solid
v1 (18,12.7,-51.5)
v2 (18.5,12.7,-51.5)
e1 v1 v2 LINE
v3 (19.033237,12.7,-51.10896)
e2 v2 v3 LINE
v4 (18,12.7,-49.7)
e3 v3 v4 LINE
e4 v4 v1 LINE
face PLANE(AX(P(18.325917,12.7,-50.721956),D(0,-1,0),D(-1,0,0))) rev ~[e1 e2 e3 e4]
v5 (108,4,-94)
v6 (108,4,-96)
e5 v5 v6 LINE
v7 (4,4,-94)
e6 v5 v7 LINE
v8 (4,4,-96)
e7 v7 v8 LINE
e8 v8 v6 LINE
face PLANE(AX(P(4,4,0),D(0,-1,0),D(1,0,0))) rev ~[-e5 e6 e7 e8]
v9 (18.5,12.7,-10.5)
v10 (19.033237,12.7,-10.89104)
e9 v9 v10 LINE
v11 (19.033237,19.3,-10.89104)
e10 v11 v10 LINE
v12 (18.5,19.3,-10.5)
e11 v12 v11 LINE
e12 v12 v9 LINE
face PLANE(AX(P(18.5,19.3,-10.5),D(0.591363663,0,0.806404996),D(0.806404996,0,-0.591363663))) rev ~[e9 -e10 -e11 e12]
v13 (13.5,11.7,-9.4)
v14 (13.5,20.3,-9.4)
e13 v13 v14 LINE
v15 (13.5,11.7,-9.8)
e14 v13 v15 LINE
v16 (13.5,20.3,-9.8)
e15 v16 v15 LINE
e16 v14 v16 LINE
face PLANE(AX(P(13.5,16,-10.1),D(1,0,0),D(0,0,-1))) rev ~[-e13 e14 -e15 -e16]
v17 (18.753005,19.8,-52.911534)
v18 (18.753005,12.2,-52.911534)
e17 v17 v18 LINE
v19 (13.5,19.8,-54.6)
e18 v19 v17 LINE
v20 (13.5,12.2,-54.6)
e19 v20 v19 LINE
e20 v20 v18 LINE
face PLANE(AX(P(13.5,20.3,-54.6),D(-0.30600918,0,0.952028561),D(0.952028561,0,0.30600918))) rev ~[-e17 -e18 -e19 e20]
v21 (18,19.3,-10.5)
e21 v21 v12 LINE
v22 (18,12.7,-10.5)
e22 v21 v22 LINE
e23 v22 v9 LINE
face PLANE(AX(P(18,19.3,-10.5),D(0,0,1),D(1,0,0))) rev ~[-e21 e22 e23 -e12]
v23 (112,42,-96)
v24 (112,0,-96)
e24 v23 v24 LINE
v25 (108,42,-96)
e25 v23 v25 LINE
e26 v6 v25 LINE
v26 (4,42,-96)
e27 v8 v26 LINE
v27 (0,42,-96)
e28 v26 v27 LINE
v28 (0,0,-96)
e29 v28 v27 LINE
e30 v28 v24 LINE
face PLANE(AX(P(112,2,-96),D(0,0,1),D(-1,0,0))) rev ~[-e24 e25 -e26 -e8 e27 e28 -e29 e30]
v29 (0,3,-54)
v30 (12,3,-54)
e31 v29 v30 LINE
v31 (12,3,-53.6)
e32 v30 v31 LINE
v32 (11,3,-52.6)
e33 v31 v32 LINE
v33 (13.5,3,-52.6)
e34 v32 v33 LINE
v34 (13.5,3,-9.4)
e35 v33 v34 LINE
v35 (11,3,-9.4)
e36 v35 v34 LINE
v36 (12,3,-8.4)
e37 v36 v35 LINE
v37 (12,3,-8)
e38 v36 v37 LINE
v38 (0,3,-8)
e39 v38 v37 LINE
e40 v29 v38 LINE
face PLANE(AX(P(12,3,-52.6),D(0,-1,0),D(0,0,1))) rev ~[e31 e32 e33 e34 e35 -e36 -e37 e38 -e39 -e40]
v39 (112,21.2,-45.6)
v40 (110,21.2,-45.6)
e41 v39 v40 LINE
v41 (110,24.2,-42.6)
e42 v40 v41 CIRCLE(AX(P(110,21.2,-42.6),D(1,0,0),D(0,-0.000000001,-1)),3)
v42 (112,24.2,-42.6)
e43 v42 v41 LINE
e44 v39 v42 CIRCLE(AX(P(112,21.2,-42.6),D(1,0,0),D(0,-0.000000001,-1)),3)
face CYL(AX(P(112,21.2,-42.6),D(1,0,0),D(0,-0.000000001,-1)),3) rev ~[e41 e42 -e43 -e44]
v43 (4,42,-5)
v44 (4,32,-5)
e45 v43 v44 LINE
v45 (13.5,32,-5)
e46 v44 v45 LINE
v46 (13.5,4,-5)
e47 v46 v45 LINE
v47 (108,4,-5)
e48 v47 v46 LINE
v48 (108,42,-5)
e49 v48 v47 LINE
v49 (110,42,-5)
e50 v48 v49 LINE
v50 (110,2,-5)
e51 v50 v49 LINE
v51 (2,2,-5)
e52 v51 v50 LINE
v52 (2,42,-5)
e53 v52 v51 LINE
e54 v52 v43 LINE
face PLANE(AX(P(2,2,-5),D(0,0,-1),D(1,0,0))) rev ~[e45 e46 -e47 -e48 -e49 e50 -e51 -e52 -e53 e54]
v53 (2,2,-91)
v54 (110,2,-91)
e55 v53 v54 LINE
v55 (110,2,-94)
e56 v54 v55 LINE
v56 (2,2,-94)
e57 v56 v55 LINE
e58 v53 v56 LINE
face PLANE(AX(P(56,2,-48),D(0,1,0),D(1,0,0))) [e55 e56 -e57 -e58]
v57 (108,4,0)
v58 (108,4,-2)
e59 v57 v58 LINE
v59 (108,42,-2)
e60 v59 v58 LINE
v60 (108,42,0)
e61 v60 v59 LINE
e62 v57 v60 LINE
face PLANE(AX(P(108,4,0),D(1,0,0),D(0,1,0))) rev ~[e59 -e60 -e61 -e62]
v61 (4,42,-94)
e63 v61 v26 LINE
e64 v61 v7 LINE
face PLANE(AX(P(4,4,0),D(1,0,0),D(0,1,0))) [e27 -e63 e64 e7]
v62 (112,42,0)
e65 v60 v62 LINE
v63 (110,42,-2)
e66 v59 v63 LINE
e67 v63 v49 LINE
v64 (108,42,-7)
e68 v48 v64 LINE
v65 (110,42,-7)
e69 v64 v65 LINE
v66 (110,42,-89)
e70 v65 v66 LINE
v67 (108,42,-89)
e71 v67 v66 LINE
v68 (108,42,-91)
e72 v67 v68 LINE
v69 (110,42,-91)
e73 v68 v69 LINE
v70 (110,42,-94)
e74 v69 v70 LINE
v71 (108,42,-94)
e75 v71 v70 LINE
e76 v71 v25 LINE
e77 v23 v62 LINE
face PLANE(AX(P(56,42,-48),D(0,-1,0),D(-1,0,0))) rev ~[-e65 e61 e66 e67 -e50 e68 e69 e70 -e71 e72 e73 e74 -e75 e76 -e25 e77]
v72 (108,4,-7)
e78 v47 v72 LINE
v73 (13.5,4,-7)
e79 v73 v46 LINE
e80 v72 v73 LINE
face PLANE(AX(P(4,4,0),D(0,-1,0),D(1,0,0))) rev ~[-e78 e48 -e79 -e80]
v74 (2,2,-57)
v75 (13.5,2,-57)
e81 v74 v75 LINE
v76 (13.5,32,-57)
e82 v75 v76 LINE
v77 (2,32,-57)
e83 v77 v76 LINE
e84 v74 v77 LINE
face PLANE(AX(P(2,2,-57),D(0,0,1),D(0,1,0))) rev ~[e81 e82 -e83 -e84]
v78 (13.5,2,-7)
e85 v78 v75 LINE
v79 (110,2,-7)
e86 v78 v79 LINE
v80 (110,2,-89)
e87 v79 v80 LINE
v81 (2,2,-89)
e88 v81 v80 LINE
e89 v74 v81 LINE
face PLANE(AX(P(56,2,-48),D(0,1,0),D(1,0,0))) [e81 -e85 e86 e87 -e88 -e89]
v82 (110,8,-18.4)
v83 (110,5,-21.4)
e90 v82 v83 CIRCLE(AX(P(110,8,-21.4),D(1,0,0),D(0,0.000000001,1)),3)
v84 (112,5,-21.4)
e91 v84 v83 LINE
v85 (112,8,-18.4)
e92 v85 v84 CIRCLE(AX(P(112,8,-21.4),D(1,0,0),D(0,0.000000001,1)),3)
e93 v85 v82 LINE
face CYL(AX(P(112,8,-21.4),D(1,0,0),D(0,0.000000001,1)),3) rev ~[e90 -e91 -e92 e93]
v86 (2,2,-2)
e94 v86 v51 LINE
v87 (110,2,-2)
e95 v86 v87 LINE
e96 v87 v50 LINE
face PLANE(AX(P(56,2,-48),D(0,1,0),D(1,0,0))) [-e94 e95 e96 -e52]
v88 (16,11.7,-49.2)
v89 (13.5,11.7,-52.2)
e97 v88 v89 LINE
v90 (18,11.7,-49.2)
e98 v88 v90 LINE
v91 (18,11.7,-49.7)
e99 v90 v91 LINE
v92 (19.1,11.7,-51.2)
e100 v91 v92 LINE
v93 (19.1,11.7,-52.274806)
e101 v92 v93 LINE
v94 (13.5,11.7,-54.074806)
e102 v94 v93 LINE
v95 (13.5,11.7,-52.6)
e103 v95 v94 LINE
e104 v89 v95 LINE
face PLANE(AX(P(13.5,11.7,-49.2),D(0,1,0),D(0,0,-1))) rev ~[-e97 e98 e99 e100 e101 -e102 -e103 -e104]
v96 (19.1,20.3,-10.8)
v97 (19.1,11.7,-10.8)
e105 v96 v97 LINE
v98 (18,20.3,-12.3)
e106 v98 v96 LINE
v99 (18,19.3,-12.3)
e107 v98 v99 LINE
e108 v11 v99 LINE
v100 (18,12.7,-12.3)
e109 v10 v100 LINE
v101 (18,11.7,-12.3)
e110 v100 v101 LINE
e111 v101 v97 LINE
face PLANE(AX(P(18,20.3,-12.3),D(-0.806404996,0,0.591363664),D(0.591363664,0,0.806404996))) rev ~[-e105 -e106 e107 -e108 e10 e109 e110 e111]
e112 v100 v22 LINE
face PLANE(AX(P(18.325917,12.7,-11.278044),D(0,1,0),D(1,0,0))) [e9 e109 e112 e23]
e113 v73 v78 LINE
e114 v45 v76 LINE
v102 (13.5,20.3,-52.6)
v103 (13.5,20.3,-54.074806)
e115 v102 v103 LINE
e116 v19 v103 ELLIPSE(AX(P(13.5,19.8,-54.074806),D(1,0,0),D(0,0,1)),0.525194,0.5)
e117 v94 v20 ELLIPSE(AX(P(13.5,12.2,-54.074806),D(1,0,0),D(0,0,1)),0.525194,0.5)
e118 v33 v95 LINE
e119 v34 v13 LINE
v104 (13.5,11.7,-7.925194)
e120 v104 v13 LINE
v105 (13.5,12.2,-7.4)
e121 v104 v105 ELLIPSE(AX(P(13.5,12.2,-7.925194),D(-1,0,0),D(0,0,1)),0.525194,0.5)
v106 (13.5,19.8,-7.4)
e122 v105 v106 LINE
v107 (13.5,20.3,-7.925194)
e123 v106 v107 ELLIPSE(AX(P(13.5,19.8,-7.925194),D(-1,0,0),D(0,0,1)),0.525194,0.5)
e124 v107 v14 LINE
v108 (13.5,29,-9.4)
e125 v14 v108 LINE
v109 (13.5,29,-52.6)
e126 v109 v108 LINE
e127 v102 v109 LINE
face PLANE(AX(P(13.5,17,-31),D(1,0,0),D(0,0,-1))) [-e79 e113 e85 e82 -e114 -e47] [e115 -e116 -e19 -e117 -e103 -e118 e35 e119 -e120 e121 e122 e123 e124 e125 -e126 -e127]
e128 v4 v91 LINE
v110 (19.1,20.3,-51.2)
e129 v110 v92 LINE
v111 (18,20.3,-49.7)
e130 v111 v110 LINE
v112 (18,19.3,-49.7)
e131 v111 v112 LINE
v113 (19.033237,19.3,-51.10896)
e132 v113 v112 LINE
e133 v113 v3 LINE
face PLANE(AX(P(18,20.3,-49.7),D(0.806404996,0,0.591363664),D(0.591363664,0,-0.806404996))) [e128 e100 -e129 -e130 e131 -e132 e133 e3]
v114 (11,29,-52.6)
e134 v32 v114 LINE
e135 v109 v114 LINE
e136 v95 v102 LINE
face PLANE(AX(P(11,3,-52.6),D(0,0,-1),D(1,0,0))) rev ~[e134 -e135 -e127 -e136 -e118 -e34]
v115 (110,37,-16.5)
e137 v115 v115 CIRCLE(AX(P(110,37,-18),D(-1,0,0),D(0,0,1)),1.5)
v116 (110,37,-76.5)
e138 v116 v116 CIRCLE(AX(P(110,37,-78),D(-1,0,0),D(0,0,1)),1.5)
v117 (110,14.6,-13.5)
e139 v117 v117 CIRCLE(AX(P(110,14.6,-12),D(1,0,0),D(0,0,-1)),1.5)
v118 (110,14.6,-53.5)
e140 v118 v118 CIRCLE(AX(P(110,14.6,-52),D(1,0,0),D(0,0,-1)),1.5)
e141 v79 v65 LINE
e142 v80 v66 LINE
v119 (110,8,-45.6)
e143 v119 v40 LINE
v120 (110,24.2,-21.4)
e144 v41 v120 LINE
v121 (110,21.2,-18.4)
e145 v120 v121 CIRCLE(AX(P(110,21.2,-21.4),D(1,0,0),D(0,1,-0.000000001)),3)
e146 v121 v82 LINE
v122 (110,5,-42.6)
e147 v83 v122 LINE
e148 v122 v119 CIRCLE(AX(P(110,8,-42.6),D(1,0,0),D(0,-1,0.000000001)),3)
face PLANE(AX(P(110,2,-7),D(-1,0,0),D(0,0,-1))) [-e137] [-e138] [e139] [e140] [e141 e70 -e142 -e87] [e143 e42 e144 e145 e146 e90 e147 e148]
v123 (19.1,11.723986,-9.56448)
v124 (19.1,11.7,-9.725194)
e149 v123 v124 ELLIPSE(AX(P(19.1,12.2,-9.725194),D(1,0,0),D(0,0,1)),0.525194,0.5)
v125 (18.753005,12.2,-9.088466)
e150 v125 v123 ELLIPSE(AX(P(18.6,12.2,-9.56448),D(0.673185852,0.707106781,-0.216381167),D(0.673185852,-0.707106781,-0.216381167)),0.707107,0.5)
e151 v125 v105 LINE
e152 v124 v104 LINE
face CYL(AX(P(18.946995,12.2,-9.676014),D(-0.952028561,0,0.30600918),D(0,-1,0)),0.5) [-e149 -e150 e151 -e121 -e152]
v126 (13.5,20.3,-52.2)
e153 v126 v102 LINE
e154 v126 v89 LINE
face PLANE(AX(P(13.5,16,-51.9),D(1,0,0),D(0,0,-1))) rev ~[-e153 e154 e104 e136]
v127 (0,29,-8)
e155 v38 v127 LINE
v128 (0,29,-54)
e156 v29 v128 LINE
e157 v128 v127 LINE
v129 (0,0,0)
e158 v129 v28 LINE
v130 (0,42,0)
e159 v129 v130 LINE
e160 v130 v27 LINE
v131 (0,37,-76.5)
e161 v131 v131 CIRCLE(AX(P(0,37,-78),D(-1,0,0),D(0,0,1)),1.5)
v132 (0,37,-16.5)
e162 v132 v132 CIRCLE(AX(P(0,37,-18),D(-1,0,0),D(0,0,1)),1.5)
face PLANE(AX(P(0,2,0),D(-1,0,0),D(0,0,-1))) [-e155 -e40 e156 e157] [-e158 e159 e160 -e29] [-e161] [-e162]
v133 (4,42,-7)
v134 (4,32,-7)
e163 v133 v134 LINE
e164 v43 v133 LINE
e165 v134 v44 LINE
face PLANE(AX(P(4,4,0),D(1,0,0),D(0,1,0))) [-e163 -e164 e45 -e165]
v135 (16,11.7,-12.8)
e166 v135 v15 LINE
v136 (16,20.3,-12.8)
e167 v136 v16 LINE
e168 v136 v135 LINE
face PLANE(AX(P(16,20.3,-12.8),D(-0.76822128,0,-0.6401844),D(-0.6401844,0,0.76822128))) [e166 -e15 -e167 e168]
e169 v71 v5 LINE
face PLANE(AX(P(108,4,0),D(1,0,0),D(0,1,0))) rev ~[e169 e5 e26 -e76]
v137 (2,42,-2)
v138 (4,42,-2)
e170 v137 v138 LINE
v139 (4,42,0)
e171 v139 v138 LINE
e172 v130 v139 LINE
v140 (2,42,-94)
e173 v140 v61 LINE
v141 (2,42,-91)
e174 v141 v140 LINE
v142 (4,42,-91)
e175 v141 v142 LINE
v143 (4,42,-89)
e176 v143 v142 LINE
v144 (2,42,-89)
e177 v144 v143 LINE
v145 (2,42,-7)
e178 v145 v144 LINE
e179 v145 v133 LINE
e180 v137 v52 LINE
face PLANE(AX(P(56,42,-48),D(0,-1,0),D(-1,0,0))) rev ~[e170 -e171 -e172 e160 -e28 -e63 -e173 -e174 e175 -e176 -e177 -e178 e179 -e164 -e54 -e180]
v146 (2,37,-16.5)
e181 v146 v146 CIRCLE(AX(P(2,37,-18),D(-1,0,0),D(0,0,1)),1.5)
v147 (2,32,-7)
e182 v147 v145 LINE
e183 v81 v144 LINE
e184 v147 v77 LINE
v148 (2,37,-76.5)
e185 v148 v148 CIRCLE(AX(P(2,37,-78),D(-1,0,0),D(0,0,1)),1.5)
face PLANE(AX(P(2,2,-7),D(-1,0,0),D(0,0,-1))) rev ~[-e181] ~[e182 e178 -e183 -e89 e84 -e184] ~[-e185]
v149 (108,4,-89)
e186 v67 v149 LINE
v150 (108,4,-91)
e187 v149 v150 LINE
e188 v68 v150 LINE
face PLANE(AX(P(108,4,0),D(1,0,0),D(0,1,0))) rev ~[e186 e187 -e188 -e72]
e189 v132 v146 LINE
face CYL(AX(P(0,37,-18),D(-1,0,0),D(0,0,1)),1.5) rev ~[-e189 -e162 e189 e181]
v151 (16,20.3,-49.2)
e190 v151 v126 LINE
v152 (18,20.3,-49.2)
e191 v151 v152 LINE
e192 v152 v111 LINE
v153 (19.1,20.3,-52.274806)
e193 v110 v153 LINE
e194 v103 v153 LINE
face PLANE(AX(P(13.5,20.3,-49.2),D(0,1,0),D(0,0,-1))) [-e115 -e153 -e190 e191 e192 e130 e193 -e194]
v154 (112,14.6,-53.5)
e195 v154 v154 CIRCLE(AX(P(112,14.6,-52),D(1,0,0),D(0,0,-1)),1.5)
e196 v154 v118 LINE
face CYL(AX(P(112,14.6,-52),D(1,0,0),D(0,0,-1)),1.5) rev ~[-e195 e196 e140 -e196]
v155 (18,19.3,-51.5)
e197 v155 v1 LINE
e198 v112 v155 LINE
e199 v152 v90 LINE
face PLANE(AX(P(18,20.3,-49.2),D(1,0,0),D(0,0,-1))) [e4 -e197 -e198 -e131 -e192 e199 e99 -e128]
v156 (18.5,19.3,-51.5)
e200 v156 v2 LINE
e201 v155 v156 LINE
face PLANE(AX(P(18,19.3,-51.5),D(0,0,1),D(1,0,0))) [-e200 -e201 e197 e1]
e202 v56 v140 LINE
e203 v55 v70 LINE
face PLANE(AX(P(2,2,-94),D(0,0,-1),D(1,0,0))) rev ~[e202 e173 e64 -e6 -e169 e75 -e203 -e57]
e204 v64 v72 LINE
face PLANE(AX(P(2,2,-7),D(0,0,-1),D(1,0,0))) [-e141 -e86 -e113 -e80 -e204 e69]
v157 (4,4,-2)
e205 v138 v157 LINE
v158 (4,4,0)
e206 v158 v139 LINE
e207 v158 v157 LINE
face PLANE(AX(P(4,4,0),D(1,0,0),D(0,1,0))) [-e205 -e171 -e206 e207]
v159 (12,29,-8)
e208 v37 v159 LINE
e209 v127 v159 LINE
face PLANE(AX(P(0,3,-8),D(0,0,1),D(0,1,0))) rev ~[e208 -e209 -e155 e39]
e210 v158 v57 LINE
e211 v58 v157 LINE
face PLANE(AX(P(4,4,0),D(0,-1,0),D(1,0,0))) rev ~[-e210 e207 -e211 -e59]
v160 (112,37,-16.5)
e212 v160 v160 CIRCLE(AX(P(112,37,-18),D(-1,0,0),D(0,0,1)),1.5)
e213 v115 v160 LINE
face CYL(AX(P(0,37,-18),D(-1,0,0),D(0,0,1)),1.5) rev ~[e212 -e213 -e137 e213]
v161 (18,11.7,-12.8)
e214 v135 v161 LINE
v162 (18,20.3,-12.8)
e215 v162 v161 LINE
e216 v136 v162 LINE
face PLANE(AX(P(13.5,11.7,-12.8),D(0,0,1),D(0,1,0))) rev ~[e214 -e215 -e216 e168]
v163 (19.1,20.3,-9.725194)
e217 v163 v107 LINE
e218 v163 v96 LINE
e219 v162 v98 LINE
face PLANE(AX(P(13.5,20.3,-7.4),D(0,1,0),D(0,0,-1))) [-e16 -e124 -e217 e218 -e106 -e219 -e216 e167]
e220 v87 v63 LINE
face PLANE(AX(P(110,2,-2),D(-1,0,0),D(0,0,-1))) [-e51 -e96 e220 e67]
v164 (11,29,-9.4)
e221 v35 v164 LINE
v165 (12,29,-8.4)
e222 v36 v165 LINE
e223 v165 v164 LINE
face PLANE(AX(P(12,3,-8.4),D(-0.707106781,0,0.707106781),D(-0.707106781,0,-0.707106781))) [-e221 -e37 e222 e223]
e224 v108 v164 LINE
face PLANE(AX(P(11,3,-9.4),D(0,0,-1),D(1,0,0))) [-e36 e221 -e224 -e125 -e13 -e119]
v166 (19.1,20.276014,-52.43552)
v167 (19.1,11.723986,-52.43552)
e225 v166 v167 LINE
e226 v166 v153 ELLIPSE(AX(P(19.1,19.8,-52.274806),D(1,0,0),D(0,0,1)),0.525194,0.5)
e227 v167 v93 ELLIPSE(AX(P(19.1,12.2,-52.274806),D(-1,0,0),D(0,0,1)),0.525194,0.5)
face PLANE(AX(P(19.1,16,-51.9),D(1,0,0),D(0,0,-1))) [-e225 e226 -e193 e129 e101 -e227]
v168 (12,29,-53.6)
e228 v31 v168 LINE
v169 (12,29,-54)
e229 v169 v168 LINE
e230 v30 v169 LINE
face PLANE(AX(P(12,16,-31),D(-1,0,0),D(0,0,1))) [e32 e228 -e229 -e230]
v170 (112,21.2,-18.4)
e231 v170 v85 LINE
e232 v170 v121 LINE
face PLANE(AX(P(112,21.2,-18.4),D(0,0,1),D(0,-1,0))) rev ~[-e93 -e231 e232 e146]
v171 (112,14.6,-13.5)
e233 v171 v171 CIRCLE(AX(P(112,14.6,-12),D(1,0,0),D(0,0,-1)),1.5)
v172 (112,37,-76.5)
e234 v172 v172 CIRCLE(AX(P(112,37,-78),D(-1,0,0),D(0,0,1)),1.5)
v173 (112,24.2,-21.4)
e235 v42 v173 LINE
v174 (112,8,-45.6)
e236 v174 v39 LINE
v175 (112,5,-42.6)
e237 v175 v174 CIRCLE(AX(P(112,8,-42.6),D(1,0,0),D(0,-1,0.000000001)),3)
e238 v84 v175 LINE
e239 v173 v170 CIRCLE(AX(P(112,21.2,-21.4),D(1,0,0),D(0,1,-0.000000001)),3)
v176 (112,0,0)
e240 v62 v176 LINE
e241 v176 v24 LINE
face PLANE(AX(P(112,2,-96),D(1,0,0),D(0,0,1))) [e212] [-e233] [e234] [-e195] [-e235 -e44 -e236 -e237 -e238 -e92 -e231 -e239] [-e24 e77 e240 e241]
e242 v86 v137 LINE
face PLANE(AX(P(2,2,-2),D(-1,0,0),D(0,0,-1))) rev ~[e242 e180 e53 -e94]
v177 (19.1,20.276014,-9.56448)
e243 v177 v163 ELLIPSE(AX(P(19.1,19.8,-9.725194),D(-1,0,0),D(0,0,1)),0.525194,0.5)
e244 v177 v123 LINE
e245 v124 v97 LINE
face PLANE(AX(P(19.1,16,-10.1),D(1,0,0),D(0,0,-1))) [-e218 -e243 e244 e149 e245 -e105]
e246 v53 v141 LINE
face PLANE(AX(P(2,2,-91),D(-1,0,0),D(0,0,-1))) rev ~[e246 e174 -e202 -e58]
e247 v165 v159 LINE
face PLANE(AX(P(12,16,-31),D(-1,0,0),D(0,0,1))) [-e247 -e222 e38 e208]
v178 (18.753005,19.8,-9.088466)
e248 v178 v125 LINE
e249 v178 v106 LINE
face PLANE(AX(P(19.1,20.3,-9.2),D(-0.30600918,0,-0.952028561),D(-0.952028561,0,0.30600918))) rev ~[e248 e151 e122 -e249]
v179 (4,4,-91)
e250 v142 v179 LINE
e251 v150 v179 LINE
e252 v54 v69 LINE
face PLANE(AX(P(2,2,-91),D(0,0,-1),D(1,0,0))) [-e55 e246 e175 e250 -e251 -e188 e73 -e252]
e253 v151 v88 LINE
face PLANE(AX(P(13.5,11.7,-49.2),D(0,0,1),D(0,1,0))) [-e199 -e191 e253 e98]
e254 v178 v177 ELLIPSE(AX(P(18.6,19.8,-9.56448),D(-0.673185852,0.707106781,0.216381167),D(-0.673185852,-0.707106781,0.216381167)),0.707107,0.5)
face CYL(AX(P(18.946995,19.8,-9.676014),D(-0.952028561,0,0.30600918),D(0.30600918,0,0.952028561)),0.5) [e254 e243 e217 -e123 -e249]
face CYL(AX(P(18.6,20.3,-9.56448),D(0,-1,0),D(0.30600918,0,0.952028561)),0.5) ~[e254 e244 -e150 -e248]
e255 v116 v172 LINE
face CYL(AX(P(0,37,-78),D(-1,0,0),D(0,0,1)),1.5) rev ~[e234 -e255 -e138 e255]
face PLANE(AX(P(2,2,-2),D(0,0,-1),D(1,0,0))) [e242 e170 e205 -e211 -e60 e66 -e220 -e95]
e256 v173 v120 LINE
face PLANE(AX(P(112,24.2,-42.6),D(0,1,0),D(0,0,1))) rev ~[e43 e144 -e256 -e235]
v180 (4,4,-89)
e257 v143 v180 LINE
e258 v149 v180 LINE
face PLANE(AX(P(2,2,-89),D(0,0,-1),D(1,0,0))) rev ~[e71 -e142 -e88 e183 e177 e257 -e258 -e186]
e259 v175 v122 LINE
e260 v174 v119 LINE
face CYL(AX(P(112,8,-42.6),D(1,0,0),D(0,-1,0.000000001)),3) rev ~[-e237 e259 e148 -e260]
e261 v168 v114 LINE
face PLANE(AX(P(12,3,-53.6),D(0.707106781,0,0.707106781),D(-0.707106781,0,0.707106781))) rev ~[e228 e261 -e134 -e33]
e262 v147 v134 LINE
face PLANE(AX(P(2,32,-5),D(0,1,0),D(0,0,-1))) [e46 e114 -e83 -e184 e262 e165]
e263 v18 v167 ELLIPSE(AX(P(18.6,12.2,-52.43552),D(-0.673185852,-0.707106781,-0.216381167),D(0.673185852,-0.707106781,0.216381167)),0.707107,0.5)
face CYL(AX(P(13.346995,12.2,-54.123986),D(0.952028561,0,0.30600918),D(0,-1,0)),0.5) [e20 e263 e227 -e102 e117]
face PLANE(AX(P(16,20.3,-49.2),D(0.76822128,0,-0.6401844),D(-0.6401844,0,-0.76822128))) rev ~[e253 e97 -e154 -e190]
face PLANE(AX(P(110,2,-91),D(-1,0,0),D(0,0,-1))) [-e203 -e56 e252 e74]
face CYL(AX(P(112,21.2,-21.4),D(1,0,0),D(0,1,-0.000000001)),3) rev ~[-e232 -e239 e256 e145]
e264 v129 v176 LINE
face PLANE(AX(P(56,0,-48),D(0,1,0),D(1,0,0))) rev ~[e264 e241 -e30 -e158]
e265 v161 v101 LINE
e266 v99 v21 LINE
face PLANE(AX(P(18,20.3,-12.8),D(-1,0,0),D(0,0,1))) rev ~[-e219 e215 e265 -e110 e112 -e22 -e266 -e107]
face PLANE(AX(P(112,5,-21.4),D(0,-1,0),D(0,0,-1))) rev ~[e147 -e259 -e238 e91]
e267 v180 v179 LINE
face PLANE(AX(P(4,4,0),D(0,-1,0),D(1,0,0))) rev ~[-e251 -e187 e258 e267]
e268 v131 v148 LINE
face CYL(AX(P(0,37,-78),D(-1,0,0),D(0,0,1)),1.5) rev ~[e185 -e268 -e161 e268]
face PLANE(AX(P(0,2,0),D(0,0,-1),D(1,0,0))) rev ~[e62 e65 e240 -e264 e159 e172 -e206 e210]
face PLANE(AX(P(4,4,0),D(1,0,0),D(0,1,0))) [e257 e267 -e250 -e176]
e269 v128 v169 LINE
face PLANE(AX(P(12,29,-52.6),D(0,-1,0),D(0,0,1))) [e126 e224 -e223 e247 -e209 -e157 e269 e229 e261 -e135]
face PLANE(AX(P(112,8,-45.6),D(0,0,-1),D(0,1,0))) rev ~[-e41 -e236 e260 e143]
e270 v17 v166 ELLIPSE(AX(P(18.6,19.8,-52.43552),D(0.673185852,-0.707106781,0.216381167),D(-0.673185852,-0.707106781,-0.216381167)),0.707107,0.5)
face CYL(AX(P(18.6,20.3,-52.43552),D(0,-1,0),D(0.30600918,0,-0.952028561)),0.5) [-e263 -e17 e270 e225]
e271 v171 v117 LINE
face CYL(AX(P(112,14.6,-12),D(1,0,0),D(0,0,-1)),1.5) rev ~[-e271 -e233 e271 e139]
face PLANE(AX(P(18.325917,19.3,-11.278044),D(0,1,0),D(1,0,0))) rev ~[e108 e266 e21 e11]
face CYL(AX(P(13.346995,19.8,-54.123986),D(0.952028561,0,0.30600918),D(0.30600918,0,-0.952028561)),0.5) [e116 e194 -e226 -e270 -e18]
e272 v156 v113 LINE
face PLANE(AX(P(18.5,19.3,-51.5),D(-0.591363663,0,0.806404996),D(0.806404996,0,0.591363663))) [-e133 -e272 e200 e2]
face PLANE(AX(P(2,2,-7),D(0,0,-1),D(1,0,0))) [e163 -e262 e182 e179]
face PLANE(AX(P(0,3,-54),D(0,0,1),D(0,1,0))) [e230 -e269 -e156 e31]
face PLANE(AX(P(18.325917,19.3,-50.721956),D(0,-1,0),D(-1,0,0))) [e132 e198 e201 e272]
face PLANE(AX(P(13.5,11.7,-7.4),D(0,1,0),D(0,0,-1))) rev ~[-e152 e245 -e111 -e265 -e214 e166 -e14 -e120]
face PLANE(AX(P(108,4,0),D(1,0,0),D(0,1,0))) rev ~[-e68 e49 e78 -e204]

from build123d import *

# Parameters (mm, degrees)
ESBO_O1_W                = 112
ESBO_O1_H                = 96
RESSALTO_EXTRUS_O1_DEPTH = 2
ESBO_O2_W                = 108
ESBO_O2_H                = 3
ESBO_O2_H_2              = 82
RESSALTO_EXTRUS_O2_DEPTH = 40
ESBO_O3_W                = 104
ESBO_O3_H                = 38
CORTE_EXTRUS_O1_DEPTH    = 154.37535656
ESBO_O4_W                = 52
ESBO_O4_H                = 30
RESSALTO_EXTRUS_O3_DEPTH = 11.5
ESBO_O5_W                = 46
ESBO_O5_H                = 26
CORTE_EXTRUS_O2_DEPTH    = 12
ESBO_O6_W                = 43.2
ESBO_O6_H                = 26
CORTE_EXTRUS_O3_DEPTH    = 1.5
RESSALTO_EXTRUS_O4_DEPTH = 26
ESBO_O8_W                = 5.4
ESBO_O8_H                = 8.6
RESSALTO_EXTRUS_O5_DEPTH = 5.6
CORTE_EXTRUS_O4_DEPTH    = 8.6
CORTE_EXTRUS_O5_DEPTH    = 8.6
CORTE_EXTRUS_O6_DEPTH    = 8.6
CORTE_EXTRUS_O7_DEPTH    = 6.6
FILETE1_R                = 0.5
FILETE2_R                = 0.5
CORTE_EXTRUS_O8_DEPTH    = 2
ESBO_O16_R               = 1.5
CORTE_EXTRUS_O9_DEPTH    = 2
ESBO_O17_R               = 1.5
CORTE_EXTRUS_O10_DEPTH   = 154.37535656


with BuildPart() as part:
    # Esboço1 → Ressalto-extrusão1 (new body)
    with BuildSketch(Plane(origin=(0, 0, 0), x_dir=(1, 0, 0), z_dir=(0, 1, 0))):
        with Locations((56, 48)):
            Rectangle(ESBO_O1_W, ESBO_O1_H)
    extrude(amount=RESSALTO_EXTRUS_O1_DEPTH)

    # Esboço2 → Ressalto-extrusão2 (add)
    with BuildSketch(Plane(origin=(0, 2, 0), x_dir=(1, 0, 0), z_dir=(0, 1, 0))):
        Polygon((0, 96), (2, 96), (110, 96), (112, 96), (112, 0), (110, 0), (2, 0), (0, 0), align=None)
        with Locations((56, 92.5)):
            Rectangle(ESBO_O2_W, ESBO_O2_H, mode=Mode.SUBTRACT)
        with Locations((56, 3.5)):
            Rectangle(ESBO_O2_W, ESBO_O2_H, mode=Mode.SUBTRACT)
        with Locations((56, 48)):
            Rectangle(ESBO_O2_W, ESBO_O2_H_2, mode=Mode.SUBTRACT)
    extrude(amount=RESSALTO_EXTRUS_O2_DEPTH)

    # Esboço3 → Corte-extrusão1 (cut, through all)
    with BuildSketch(Plane.XY):
        with Locations((56, 23)):
            Rectangle(ESBO_O3_W, ESBO_O3_H)
    extrude(amount=-CORTE_EXTRUS_O1_DEPTH, mode=Mode.SUBTRACT)

    # Esboço4 → Ressalto-extrusão3 (add)
    with BuildSketch(Plane(origin=(2, 0, 0), x_dir=(0, 0, -1), z_dir=(1, 0, 0))):
        with Locations((31, 17)):
            Rectangle(ESBO_O4_W, ESBO_O4_H)
    extrude(amount=RESSALTO_EXTRUS_O3_DEPTH)

    # Esboço5 → Corte-extrusão2 (cut)
    with BuildSketch(Plane.ZY):
        with Locations((-31, 16)):
            Rectangle(ESBO_O5_W, ESBO_O5_H)
    extrude(amount=-CORTE_EXTRUS_O2_DEPTH, mode=Mode.SUBTRACT)

    # Esboço6 → Corte-extrusão3 (cut)
    with BuildSketch(Plane.ZY.offset(-12)):
        with Locations((-31, 16)):
            Rectangle(ESBO_O6_W, ESBO_O6_H)
    extrude(amount=-CORTE_EXTRUS_O3_DEPTH, mode=Mode.SUBTRACT)

    # Esboço7 → Ressalto-extrusão4 (add)
    with BuildSketch(Plane(origin=(0, 3, 0), x_dir=(1, 0, 0), z_dir=(0, 1, 0))):
        Polygon((12, 52.6), (12, 53.6), (11, 52.6), align=None)
        Polygon((12, 9.4), (12, 8.4), (11, 9.4), align=None)
    extrude(amount=RESSALTO_EXTRUS_O4_DEPTH)

    # Esboço8 → Ressalto-extrusão5 (add)
    with BuildSketch(Plane(origin=(13.5, 0, 0), x_dir=(0, 0, -1), z_dir=(1, 0, 0))):
        with Locations((10.1, 16)):
            Rectangle(ESBO_O8_W, ESBO_O8_H)
        with Locations((51.9, 16)):
            Rectangle(ESBO_O8_W, ESBO_O8_H)
    extrude(amount=RESSALTO_EXTRUS_O5_DEPTH)

    # Esboço9 → Corte-extrusão4 (cut)
    with BuildSketch(Plane(origin=(0, 20.3, 0), x_dir=(1, 0, 0), z_dir=(0, 1, 0))):
        Polygon((13.5, 54.6), (19.1, 52.8), (19.1, 54.6), align=None)
        Polygon((13.5, 7.4), (19.1, 7.4), (19.1, 9.2), align=None)
    extrude(amount=-CORTE_EXTRUS_O4_DEPTH, mode=Mode.SUBTRACT)

    # Esboço10 → Corte-extrusão5 (cut)
    with BuildSketch(Plane(origin=(0, 20.3, 0), x_dir=(1, 0, 0), z_dir=(0, 1, 0))):
        Polygon((13.5, 12.8), (16, 12.8), (13.5, 9.8), align=None)
        Polygon((13.5, 49.2), (16, 49.2), (13.5, 52.2), align=None)
    extrude(amount=-CORTE_EXTRUS_O5_DEPTH, mode=Mode.SUBTRACT)

    # Esboço11 → Corte-extrusão6 (cut)
    with BuildSketch(Plane(origin=(0, 20.3, 0), x_dir=(1, 0, 0), z_dir=(0, 1, 0))):
        Polygon((19.1, 49.2), (18, 49.2), (18, 49.7), (19.1, 51.2), align=None)
        Polygon((19.1, 12.8), (18, 12.8), (18, 12.3), (19.1, 10.8), align=None)
    extrude(amount=-CORTE_EXTRUS_O6_DEPTH, mode=Mode.SUBTRACT)

    # Esboço14 → Corte-extrusão7 (cut)
    with BuildSketch(Plane(origin=(0, 19.3, 0), x_dir=(1, 0, 0), z_dir=(0, 1, 0))):
        Polygon((18, 12.3), (18, 10.5), (18.5, 10.5), (19.033236994, 10.891040462), align=None)
        Polygon((18, 49.7), (18, 51.5), (18.5, 51.5), (19.033236994, 51.108959538), align=None)
    extrude(amount=-CORTE_EXTRUS_O7_DEPTH, mode=Mode.SUBTRACT)

    # Filete1
    filete1_edges = [part.edges().sort_by_distance(p)[0] for p in [
        (16.3, 11.7, -53.7),
        (19.1, 16, -52.8),
        (16.3, 20.3, -53.7),
    ]]
    fillet(filete1_edges, radius=FILETE1_R)

    # Filete2
    filete2_edges = [part.edges().sort_by_distance(p)[0] for p in [
        (16.3, 11.7, -8.3),
        (19.1, 16, -9.2),
        (16.3, 20.3, -8.3),
    ]]
    fillet(filete2_edges, radius=FILETE2_R)

    # Esboço15 → Corte-extrusão8 (cut)
    with BuildSketch(Plane(origin=(112, 0, 0), x_dir=(0, 0, -1), z_dir=(1, 0, 0))):
        with BuildLine():
            Line((21.4, 5), (42.6, 5))
            ThreePointArc((42.6, 5), (44.721320344, 5.878679656), (45.6, 8))
            Line((45.6, 8), (45.6, 21.2))
            ThreePointArc((45.6, 21.2), (44.721320344, 23.321320344), (42.6, 24.2))
            Line((42.6, 24.2), (21.4, 24.2))
            ThreePointArc((21.4, 24.2), (19.278679656, 23.321320344), (18.4, 21.2))
            Line((18.4, 21.2), (18.4, 8))
            ThreePointArc((18.4, 8), (19.278679656, 5.878679656), (21.4, 5))
        make_face()
    extrude(amount=-CORTE_EXTRUS_O8_DEPTH, mode=Mode.SUBTRACT)

    # Esboço16 → Corte-extrusão9 (cut)
    with BuildSketch(Plane(origin=(112, 0, 0), x_dir=(0, 0, -1), z_dir=(1, 0, 0))):
        with Locations((52, 14.6)):
            Circle(ESBO_O16_R)
        with Locations((12, 14.6)):
            Circle(ESBO_O16_R)
    extrude(amount=-CORTE_EXTRUS_O9_DEPTH, mode=Mode.SUBTRACT)

    # Esboço17 → Corte-extrusão10 (cut, through all)
    with BuildSketch(Plane.ZY):
        with Locations((-78, 37)):
            Circle(ESBO_O17_R)
        with Locations((-18, 37)):
            Circle(ESBO_O17_R)
    extrude(amount=-CORTE_EXTRUS_O10_DEPTH, mode=Mode.SUBTRACT)


solid = part.part
